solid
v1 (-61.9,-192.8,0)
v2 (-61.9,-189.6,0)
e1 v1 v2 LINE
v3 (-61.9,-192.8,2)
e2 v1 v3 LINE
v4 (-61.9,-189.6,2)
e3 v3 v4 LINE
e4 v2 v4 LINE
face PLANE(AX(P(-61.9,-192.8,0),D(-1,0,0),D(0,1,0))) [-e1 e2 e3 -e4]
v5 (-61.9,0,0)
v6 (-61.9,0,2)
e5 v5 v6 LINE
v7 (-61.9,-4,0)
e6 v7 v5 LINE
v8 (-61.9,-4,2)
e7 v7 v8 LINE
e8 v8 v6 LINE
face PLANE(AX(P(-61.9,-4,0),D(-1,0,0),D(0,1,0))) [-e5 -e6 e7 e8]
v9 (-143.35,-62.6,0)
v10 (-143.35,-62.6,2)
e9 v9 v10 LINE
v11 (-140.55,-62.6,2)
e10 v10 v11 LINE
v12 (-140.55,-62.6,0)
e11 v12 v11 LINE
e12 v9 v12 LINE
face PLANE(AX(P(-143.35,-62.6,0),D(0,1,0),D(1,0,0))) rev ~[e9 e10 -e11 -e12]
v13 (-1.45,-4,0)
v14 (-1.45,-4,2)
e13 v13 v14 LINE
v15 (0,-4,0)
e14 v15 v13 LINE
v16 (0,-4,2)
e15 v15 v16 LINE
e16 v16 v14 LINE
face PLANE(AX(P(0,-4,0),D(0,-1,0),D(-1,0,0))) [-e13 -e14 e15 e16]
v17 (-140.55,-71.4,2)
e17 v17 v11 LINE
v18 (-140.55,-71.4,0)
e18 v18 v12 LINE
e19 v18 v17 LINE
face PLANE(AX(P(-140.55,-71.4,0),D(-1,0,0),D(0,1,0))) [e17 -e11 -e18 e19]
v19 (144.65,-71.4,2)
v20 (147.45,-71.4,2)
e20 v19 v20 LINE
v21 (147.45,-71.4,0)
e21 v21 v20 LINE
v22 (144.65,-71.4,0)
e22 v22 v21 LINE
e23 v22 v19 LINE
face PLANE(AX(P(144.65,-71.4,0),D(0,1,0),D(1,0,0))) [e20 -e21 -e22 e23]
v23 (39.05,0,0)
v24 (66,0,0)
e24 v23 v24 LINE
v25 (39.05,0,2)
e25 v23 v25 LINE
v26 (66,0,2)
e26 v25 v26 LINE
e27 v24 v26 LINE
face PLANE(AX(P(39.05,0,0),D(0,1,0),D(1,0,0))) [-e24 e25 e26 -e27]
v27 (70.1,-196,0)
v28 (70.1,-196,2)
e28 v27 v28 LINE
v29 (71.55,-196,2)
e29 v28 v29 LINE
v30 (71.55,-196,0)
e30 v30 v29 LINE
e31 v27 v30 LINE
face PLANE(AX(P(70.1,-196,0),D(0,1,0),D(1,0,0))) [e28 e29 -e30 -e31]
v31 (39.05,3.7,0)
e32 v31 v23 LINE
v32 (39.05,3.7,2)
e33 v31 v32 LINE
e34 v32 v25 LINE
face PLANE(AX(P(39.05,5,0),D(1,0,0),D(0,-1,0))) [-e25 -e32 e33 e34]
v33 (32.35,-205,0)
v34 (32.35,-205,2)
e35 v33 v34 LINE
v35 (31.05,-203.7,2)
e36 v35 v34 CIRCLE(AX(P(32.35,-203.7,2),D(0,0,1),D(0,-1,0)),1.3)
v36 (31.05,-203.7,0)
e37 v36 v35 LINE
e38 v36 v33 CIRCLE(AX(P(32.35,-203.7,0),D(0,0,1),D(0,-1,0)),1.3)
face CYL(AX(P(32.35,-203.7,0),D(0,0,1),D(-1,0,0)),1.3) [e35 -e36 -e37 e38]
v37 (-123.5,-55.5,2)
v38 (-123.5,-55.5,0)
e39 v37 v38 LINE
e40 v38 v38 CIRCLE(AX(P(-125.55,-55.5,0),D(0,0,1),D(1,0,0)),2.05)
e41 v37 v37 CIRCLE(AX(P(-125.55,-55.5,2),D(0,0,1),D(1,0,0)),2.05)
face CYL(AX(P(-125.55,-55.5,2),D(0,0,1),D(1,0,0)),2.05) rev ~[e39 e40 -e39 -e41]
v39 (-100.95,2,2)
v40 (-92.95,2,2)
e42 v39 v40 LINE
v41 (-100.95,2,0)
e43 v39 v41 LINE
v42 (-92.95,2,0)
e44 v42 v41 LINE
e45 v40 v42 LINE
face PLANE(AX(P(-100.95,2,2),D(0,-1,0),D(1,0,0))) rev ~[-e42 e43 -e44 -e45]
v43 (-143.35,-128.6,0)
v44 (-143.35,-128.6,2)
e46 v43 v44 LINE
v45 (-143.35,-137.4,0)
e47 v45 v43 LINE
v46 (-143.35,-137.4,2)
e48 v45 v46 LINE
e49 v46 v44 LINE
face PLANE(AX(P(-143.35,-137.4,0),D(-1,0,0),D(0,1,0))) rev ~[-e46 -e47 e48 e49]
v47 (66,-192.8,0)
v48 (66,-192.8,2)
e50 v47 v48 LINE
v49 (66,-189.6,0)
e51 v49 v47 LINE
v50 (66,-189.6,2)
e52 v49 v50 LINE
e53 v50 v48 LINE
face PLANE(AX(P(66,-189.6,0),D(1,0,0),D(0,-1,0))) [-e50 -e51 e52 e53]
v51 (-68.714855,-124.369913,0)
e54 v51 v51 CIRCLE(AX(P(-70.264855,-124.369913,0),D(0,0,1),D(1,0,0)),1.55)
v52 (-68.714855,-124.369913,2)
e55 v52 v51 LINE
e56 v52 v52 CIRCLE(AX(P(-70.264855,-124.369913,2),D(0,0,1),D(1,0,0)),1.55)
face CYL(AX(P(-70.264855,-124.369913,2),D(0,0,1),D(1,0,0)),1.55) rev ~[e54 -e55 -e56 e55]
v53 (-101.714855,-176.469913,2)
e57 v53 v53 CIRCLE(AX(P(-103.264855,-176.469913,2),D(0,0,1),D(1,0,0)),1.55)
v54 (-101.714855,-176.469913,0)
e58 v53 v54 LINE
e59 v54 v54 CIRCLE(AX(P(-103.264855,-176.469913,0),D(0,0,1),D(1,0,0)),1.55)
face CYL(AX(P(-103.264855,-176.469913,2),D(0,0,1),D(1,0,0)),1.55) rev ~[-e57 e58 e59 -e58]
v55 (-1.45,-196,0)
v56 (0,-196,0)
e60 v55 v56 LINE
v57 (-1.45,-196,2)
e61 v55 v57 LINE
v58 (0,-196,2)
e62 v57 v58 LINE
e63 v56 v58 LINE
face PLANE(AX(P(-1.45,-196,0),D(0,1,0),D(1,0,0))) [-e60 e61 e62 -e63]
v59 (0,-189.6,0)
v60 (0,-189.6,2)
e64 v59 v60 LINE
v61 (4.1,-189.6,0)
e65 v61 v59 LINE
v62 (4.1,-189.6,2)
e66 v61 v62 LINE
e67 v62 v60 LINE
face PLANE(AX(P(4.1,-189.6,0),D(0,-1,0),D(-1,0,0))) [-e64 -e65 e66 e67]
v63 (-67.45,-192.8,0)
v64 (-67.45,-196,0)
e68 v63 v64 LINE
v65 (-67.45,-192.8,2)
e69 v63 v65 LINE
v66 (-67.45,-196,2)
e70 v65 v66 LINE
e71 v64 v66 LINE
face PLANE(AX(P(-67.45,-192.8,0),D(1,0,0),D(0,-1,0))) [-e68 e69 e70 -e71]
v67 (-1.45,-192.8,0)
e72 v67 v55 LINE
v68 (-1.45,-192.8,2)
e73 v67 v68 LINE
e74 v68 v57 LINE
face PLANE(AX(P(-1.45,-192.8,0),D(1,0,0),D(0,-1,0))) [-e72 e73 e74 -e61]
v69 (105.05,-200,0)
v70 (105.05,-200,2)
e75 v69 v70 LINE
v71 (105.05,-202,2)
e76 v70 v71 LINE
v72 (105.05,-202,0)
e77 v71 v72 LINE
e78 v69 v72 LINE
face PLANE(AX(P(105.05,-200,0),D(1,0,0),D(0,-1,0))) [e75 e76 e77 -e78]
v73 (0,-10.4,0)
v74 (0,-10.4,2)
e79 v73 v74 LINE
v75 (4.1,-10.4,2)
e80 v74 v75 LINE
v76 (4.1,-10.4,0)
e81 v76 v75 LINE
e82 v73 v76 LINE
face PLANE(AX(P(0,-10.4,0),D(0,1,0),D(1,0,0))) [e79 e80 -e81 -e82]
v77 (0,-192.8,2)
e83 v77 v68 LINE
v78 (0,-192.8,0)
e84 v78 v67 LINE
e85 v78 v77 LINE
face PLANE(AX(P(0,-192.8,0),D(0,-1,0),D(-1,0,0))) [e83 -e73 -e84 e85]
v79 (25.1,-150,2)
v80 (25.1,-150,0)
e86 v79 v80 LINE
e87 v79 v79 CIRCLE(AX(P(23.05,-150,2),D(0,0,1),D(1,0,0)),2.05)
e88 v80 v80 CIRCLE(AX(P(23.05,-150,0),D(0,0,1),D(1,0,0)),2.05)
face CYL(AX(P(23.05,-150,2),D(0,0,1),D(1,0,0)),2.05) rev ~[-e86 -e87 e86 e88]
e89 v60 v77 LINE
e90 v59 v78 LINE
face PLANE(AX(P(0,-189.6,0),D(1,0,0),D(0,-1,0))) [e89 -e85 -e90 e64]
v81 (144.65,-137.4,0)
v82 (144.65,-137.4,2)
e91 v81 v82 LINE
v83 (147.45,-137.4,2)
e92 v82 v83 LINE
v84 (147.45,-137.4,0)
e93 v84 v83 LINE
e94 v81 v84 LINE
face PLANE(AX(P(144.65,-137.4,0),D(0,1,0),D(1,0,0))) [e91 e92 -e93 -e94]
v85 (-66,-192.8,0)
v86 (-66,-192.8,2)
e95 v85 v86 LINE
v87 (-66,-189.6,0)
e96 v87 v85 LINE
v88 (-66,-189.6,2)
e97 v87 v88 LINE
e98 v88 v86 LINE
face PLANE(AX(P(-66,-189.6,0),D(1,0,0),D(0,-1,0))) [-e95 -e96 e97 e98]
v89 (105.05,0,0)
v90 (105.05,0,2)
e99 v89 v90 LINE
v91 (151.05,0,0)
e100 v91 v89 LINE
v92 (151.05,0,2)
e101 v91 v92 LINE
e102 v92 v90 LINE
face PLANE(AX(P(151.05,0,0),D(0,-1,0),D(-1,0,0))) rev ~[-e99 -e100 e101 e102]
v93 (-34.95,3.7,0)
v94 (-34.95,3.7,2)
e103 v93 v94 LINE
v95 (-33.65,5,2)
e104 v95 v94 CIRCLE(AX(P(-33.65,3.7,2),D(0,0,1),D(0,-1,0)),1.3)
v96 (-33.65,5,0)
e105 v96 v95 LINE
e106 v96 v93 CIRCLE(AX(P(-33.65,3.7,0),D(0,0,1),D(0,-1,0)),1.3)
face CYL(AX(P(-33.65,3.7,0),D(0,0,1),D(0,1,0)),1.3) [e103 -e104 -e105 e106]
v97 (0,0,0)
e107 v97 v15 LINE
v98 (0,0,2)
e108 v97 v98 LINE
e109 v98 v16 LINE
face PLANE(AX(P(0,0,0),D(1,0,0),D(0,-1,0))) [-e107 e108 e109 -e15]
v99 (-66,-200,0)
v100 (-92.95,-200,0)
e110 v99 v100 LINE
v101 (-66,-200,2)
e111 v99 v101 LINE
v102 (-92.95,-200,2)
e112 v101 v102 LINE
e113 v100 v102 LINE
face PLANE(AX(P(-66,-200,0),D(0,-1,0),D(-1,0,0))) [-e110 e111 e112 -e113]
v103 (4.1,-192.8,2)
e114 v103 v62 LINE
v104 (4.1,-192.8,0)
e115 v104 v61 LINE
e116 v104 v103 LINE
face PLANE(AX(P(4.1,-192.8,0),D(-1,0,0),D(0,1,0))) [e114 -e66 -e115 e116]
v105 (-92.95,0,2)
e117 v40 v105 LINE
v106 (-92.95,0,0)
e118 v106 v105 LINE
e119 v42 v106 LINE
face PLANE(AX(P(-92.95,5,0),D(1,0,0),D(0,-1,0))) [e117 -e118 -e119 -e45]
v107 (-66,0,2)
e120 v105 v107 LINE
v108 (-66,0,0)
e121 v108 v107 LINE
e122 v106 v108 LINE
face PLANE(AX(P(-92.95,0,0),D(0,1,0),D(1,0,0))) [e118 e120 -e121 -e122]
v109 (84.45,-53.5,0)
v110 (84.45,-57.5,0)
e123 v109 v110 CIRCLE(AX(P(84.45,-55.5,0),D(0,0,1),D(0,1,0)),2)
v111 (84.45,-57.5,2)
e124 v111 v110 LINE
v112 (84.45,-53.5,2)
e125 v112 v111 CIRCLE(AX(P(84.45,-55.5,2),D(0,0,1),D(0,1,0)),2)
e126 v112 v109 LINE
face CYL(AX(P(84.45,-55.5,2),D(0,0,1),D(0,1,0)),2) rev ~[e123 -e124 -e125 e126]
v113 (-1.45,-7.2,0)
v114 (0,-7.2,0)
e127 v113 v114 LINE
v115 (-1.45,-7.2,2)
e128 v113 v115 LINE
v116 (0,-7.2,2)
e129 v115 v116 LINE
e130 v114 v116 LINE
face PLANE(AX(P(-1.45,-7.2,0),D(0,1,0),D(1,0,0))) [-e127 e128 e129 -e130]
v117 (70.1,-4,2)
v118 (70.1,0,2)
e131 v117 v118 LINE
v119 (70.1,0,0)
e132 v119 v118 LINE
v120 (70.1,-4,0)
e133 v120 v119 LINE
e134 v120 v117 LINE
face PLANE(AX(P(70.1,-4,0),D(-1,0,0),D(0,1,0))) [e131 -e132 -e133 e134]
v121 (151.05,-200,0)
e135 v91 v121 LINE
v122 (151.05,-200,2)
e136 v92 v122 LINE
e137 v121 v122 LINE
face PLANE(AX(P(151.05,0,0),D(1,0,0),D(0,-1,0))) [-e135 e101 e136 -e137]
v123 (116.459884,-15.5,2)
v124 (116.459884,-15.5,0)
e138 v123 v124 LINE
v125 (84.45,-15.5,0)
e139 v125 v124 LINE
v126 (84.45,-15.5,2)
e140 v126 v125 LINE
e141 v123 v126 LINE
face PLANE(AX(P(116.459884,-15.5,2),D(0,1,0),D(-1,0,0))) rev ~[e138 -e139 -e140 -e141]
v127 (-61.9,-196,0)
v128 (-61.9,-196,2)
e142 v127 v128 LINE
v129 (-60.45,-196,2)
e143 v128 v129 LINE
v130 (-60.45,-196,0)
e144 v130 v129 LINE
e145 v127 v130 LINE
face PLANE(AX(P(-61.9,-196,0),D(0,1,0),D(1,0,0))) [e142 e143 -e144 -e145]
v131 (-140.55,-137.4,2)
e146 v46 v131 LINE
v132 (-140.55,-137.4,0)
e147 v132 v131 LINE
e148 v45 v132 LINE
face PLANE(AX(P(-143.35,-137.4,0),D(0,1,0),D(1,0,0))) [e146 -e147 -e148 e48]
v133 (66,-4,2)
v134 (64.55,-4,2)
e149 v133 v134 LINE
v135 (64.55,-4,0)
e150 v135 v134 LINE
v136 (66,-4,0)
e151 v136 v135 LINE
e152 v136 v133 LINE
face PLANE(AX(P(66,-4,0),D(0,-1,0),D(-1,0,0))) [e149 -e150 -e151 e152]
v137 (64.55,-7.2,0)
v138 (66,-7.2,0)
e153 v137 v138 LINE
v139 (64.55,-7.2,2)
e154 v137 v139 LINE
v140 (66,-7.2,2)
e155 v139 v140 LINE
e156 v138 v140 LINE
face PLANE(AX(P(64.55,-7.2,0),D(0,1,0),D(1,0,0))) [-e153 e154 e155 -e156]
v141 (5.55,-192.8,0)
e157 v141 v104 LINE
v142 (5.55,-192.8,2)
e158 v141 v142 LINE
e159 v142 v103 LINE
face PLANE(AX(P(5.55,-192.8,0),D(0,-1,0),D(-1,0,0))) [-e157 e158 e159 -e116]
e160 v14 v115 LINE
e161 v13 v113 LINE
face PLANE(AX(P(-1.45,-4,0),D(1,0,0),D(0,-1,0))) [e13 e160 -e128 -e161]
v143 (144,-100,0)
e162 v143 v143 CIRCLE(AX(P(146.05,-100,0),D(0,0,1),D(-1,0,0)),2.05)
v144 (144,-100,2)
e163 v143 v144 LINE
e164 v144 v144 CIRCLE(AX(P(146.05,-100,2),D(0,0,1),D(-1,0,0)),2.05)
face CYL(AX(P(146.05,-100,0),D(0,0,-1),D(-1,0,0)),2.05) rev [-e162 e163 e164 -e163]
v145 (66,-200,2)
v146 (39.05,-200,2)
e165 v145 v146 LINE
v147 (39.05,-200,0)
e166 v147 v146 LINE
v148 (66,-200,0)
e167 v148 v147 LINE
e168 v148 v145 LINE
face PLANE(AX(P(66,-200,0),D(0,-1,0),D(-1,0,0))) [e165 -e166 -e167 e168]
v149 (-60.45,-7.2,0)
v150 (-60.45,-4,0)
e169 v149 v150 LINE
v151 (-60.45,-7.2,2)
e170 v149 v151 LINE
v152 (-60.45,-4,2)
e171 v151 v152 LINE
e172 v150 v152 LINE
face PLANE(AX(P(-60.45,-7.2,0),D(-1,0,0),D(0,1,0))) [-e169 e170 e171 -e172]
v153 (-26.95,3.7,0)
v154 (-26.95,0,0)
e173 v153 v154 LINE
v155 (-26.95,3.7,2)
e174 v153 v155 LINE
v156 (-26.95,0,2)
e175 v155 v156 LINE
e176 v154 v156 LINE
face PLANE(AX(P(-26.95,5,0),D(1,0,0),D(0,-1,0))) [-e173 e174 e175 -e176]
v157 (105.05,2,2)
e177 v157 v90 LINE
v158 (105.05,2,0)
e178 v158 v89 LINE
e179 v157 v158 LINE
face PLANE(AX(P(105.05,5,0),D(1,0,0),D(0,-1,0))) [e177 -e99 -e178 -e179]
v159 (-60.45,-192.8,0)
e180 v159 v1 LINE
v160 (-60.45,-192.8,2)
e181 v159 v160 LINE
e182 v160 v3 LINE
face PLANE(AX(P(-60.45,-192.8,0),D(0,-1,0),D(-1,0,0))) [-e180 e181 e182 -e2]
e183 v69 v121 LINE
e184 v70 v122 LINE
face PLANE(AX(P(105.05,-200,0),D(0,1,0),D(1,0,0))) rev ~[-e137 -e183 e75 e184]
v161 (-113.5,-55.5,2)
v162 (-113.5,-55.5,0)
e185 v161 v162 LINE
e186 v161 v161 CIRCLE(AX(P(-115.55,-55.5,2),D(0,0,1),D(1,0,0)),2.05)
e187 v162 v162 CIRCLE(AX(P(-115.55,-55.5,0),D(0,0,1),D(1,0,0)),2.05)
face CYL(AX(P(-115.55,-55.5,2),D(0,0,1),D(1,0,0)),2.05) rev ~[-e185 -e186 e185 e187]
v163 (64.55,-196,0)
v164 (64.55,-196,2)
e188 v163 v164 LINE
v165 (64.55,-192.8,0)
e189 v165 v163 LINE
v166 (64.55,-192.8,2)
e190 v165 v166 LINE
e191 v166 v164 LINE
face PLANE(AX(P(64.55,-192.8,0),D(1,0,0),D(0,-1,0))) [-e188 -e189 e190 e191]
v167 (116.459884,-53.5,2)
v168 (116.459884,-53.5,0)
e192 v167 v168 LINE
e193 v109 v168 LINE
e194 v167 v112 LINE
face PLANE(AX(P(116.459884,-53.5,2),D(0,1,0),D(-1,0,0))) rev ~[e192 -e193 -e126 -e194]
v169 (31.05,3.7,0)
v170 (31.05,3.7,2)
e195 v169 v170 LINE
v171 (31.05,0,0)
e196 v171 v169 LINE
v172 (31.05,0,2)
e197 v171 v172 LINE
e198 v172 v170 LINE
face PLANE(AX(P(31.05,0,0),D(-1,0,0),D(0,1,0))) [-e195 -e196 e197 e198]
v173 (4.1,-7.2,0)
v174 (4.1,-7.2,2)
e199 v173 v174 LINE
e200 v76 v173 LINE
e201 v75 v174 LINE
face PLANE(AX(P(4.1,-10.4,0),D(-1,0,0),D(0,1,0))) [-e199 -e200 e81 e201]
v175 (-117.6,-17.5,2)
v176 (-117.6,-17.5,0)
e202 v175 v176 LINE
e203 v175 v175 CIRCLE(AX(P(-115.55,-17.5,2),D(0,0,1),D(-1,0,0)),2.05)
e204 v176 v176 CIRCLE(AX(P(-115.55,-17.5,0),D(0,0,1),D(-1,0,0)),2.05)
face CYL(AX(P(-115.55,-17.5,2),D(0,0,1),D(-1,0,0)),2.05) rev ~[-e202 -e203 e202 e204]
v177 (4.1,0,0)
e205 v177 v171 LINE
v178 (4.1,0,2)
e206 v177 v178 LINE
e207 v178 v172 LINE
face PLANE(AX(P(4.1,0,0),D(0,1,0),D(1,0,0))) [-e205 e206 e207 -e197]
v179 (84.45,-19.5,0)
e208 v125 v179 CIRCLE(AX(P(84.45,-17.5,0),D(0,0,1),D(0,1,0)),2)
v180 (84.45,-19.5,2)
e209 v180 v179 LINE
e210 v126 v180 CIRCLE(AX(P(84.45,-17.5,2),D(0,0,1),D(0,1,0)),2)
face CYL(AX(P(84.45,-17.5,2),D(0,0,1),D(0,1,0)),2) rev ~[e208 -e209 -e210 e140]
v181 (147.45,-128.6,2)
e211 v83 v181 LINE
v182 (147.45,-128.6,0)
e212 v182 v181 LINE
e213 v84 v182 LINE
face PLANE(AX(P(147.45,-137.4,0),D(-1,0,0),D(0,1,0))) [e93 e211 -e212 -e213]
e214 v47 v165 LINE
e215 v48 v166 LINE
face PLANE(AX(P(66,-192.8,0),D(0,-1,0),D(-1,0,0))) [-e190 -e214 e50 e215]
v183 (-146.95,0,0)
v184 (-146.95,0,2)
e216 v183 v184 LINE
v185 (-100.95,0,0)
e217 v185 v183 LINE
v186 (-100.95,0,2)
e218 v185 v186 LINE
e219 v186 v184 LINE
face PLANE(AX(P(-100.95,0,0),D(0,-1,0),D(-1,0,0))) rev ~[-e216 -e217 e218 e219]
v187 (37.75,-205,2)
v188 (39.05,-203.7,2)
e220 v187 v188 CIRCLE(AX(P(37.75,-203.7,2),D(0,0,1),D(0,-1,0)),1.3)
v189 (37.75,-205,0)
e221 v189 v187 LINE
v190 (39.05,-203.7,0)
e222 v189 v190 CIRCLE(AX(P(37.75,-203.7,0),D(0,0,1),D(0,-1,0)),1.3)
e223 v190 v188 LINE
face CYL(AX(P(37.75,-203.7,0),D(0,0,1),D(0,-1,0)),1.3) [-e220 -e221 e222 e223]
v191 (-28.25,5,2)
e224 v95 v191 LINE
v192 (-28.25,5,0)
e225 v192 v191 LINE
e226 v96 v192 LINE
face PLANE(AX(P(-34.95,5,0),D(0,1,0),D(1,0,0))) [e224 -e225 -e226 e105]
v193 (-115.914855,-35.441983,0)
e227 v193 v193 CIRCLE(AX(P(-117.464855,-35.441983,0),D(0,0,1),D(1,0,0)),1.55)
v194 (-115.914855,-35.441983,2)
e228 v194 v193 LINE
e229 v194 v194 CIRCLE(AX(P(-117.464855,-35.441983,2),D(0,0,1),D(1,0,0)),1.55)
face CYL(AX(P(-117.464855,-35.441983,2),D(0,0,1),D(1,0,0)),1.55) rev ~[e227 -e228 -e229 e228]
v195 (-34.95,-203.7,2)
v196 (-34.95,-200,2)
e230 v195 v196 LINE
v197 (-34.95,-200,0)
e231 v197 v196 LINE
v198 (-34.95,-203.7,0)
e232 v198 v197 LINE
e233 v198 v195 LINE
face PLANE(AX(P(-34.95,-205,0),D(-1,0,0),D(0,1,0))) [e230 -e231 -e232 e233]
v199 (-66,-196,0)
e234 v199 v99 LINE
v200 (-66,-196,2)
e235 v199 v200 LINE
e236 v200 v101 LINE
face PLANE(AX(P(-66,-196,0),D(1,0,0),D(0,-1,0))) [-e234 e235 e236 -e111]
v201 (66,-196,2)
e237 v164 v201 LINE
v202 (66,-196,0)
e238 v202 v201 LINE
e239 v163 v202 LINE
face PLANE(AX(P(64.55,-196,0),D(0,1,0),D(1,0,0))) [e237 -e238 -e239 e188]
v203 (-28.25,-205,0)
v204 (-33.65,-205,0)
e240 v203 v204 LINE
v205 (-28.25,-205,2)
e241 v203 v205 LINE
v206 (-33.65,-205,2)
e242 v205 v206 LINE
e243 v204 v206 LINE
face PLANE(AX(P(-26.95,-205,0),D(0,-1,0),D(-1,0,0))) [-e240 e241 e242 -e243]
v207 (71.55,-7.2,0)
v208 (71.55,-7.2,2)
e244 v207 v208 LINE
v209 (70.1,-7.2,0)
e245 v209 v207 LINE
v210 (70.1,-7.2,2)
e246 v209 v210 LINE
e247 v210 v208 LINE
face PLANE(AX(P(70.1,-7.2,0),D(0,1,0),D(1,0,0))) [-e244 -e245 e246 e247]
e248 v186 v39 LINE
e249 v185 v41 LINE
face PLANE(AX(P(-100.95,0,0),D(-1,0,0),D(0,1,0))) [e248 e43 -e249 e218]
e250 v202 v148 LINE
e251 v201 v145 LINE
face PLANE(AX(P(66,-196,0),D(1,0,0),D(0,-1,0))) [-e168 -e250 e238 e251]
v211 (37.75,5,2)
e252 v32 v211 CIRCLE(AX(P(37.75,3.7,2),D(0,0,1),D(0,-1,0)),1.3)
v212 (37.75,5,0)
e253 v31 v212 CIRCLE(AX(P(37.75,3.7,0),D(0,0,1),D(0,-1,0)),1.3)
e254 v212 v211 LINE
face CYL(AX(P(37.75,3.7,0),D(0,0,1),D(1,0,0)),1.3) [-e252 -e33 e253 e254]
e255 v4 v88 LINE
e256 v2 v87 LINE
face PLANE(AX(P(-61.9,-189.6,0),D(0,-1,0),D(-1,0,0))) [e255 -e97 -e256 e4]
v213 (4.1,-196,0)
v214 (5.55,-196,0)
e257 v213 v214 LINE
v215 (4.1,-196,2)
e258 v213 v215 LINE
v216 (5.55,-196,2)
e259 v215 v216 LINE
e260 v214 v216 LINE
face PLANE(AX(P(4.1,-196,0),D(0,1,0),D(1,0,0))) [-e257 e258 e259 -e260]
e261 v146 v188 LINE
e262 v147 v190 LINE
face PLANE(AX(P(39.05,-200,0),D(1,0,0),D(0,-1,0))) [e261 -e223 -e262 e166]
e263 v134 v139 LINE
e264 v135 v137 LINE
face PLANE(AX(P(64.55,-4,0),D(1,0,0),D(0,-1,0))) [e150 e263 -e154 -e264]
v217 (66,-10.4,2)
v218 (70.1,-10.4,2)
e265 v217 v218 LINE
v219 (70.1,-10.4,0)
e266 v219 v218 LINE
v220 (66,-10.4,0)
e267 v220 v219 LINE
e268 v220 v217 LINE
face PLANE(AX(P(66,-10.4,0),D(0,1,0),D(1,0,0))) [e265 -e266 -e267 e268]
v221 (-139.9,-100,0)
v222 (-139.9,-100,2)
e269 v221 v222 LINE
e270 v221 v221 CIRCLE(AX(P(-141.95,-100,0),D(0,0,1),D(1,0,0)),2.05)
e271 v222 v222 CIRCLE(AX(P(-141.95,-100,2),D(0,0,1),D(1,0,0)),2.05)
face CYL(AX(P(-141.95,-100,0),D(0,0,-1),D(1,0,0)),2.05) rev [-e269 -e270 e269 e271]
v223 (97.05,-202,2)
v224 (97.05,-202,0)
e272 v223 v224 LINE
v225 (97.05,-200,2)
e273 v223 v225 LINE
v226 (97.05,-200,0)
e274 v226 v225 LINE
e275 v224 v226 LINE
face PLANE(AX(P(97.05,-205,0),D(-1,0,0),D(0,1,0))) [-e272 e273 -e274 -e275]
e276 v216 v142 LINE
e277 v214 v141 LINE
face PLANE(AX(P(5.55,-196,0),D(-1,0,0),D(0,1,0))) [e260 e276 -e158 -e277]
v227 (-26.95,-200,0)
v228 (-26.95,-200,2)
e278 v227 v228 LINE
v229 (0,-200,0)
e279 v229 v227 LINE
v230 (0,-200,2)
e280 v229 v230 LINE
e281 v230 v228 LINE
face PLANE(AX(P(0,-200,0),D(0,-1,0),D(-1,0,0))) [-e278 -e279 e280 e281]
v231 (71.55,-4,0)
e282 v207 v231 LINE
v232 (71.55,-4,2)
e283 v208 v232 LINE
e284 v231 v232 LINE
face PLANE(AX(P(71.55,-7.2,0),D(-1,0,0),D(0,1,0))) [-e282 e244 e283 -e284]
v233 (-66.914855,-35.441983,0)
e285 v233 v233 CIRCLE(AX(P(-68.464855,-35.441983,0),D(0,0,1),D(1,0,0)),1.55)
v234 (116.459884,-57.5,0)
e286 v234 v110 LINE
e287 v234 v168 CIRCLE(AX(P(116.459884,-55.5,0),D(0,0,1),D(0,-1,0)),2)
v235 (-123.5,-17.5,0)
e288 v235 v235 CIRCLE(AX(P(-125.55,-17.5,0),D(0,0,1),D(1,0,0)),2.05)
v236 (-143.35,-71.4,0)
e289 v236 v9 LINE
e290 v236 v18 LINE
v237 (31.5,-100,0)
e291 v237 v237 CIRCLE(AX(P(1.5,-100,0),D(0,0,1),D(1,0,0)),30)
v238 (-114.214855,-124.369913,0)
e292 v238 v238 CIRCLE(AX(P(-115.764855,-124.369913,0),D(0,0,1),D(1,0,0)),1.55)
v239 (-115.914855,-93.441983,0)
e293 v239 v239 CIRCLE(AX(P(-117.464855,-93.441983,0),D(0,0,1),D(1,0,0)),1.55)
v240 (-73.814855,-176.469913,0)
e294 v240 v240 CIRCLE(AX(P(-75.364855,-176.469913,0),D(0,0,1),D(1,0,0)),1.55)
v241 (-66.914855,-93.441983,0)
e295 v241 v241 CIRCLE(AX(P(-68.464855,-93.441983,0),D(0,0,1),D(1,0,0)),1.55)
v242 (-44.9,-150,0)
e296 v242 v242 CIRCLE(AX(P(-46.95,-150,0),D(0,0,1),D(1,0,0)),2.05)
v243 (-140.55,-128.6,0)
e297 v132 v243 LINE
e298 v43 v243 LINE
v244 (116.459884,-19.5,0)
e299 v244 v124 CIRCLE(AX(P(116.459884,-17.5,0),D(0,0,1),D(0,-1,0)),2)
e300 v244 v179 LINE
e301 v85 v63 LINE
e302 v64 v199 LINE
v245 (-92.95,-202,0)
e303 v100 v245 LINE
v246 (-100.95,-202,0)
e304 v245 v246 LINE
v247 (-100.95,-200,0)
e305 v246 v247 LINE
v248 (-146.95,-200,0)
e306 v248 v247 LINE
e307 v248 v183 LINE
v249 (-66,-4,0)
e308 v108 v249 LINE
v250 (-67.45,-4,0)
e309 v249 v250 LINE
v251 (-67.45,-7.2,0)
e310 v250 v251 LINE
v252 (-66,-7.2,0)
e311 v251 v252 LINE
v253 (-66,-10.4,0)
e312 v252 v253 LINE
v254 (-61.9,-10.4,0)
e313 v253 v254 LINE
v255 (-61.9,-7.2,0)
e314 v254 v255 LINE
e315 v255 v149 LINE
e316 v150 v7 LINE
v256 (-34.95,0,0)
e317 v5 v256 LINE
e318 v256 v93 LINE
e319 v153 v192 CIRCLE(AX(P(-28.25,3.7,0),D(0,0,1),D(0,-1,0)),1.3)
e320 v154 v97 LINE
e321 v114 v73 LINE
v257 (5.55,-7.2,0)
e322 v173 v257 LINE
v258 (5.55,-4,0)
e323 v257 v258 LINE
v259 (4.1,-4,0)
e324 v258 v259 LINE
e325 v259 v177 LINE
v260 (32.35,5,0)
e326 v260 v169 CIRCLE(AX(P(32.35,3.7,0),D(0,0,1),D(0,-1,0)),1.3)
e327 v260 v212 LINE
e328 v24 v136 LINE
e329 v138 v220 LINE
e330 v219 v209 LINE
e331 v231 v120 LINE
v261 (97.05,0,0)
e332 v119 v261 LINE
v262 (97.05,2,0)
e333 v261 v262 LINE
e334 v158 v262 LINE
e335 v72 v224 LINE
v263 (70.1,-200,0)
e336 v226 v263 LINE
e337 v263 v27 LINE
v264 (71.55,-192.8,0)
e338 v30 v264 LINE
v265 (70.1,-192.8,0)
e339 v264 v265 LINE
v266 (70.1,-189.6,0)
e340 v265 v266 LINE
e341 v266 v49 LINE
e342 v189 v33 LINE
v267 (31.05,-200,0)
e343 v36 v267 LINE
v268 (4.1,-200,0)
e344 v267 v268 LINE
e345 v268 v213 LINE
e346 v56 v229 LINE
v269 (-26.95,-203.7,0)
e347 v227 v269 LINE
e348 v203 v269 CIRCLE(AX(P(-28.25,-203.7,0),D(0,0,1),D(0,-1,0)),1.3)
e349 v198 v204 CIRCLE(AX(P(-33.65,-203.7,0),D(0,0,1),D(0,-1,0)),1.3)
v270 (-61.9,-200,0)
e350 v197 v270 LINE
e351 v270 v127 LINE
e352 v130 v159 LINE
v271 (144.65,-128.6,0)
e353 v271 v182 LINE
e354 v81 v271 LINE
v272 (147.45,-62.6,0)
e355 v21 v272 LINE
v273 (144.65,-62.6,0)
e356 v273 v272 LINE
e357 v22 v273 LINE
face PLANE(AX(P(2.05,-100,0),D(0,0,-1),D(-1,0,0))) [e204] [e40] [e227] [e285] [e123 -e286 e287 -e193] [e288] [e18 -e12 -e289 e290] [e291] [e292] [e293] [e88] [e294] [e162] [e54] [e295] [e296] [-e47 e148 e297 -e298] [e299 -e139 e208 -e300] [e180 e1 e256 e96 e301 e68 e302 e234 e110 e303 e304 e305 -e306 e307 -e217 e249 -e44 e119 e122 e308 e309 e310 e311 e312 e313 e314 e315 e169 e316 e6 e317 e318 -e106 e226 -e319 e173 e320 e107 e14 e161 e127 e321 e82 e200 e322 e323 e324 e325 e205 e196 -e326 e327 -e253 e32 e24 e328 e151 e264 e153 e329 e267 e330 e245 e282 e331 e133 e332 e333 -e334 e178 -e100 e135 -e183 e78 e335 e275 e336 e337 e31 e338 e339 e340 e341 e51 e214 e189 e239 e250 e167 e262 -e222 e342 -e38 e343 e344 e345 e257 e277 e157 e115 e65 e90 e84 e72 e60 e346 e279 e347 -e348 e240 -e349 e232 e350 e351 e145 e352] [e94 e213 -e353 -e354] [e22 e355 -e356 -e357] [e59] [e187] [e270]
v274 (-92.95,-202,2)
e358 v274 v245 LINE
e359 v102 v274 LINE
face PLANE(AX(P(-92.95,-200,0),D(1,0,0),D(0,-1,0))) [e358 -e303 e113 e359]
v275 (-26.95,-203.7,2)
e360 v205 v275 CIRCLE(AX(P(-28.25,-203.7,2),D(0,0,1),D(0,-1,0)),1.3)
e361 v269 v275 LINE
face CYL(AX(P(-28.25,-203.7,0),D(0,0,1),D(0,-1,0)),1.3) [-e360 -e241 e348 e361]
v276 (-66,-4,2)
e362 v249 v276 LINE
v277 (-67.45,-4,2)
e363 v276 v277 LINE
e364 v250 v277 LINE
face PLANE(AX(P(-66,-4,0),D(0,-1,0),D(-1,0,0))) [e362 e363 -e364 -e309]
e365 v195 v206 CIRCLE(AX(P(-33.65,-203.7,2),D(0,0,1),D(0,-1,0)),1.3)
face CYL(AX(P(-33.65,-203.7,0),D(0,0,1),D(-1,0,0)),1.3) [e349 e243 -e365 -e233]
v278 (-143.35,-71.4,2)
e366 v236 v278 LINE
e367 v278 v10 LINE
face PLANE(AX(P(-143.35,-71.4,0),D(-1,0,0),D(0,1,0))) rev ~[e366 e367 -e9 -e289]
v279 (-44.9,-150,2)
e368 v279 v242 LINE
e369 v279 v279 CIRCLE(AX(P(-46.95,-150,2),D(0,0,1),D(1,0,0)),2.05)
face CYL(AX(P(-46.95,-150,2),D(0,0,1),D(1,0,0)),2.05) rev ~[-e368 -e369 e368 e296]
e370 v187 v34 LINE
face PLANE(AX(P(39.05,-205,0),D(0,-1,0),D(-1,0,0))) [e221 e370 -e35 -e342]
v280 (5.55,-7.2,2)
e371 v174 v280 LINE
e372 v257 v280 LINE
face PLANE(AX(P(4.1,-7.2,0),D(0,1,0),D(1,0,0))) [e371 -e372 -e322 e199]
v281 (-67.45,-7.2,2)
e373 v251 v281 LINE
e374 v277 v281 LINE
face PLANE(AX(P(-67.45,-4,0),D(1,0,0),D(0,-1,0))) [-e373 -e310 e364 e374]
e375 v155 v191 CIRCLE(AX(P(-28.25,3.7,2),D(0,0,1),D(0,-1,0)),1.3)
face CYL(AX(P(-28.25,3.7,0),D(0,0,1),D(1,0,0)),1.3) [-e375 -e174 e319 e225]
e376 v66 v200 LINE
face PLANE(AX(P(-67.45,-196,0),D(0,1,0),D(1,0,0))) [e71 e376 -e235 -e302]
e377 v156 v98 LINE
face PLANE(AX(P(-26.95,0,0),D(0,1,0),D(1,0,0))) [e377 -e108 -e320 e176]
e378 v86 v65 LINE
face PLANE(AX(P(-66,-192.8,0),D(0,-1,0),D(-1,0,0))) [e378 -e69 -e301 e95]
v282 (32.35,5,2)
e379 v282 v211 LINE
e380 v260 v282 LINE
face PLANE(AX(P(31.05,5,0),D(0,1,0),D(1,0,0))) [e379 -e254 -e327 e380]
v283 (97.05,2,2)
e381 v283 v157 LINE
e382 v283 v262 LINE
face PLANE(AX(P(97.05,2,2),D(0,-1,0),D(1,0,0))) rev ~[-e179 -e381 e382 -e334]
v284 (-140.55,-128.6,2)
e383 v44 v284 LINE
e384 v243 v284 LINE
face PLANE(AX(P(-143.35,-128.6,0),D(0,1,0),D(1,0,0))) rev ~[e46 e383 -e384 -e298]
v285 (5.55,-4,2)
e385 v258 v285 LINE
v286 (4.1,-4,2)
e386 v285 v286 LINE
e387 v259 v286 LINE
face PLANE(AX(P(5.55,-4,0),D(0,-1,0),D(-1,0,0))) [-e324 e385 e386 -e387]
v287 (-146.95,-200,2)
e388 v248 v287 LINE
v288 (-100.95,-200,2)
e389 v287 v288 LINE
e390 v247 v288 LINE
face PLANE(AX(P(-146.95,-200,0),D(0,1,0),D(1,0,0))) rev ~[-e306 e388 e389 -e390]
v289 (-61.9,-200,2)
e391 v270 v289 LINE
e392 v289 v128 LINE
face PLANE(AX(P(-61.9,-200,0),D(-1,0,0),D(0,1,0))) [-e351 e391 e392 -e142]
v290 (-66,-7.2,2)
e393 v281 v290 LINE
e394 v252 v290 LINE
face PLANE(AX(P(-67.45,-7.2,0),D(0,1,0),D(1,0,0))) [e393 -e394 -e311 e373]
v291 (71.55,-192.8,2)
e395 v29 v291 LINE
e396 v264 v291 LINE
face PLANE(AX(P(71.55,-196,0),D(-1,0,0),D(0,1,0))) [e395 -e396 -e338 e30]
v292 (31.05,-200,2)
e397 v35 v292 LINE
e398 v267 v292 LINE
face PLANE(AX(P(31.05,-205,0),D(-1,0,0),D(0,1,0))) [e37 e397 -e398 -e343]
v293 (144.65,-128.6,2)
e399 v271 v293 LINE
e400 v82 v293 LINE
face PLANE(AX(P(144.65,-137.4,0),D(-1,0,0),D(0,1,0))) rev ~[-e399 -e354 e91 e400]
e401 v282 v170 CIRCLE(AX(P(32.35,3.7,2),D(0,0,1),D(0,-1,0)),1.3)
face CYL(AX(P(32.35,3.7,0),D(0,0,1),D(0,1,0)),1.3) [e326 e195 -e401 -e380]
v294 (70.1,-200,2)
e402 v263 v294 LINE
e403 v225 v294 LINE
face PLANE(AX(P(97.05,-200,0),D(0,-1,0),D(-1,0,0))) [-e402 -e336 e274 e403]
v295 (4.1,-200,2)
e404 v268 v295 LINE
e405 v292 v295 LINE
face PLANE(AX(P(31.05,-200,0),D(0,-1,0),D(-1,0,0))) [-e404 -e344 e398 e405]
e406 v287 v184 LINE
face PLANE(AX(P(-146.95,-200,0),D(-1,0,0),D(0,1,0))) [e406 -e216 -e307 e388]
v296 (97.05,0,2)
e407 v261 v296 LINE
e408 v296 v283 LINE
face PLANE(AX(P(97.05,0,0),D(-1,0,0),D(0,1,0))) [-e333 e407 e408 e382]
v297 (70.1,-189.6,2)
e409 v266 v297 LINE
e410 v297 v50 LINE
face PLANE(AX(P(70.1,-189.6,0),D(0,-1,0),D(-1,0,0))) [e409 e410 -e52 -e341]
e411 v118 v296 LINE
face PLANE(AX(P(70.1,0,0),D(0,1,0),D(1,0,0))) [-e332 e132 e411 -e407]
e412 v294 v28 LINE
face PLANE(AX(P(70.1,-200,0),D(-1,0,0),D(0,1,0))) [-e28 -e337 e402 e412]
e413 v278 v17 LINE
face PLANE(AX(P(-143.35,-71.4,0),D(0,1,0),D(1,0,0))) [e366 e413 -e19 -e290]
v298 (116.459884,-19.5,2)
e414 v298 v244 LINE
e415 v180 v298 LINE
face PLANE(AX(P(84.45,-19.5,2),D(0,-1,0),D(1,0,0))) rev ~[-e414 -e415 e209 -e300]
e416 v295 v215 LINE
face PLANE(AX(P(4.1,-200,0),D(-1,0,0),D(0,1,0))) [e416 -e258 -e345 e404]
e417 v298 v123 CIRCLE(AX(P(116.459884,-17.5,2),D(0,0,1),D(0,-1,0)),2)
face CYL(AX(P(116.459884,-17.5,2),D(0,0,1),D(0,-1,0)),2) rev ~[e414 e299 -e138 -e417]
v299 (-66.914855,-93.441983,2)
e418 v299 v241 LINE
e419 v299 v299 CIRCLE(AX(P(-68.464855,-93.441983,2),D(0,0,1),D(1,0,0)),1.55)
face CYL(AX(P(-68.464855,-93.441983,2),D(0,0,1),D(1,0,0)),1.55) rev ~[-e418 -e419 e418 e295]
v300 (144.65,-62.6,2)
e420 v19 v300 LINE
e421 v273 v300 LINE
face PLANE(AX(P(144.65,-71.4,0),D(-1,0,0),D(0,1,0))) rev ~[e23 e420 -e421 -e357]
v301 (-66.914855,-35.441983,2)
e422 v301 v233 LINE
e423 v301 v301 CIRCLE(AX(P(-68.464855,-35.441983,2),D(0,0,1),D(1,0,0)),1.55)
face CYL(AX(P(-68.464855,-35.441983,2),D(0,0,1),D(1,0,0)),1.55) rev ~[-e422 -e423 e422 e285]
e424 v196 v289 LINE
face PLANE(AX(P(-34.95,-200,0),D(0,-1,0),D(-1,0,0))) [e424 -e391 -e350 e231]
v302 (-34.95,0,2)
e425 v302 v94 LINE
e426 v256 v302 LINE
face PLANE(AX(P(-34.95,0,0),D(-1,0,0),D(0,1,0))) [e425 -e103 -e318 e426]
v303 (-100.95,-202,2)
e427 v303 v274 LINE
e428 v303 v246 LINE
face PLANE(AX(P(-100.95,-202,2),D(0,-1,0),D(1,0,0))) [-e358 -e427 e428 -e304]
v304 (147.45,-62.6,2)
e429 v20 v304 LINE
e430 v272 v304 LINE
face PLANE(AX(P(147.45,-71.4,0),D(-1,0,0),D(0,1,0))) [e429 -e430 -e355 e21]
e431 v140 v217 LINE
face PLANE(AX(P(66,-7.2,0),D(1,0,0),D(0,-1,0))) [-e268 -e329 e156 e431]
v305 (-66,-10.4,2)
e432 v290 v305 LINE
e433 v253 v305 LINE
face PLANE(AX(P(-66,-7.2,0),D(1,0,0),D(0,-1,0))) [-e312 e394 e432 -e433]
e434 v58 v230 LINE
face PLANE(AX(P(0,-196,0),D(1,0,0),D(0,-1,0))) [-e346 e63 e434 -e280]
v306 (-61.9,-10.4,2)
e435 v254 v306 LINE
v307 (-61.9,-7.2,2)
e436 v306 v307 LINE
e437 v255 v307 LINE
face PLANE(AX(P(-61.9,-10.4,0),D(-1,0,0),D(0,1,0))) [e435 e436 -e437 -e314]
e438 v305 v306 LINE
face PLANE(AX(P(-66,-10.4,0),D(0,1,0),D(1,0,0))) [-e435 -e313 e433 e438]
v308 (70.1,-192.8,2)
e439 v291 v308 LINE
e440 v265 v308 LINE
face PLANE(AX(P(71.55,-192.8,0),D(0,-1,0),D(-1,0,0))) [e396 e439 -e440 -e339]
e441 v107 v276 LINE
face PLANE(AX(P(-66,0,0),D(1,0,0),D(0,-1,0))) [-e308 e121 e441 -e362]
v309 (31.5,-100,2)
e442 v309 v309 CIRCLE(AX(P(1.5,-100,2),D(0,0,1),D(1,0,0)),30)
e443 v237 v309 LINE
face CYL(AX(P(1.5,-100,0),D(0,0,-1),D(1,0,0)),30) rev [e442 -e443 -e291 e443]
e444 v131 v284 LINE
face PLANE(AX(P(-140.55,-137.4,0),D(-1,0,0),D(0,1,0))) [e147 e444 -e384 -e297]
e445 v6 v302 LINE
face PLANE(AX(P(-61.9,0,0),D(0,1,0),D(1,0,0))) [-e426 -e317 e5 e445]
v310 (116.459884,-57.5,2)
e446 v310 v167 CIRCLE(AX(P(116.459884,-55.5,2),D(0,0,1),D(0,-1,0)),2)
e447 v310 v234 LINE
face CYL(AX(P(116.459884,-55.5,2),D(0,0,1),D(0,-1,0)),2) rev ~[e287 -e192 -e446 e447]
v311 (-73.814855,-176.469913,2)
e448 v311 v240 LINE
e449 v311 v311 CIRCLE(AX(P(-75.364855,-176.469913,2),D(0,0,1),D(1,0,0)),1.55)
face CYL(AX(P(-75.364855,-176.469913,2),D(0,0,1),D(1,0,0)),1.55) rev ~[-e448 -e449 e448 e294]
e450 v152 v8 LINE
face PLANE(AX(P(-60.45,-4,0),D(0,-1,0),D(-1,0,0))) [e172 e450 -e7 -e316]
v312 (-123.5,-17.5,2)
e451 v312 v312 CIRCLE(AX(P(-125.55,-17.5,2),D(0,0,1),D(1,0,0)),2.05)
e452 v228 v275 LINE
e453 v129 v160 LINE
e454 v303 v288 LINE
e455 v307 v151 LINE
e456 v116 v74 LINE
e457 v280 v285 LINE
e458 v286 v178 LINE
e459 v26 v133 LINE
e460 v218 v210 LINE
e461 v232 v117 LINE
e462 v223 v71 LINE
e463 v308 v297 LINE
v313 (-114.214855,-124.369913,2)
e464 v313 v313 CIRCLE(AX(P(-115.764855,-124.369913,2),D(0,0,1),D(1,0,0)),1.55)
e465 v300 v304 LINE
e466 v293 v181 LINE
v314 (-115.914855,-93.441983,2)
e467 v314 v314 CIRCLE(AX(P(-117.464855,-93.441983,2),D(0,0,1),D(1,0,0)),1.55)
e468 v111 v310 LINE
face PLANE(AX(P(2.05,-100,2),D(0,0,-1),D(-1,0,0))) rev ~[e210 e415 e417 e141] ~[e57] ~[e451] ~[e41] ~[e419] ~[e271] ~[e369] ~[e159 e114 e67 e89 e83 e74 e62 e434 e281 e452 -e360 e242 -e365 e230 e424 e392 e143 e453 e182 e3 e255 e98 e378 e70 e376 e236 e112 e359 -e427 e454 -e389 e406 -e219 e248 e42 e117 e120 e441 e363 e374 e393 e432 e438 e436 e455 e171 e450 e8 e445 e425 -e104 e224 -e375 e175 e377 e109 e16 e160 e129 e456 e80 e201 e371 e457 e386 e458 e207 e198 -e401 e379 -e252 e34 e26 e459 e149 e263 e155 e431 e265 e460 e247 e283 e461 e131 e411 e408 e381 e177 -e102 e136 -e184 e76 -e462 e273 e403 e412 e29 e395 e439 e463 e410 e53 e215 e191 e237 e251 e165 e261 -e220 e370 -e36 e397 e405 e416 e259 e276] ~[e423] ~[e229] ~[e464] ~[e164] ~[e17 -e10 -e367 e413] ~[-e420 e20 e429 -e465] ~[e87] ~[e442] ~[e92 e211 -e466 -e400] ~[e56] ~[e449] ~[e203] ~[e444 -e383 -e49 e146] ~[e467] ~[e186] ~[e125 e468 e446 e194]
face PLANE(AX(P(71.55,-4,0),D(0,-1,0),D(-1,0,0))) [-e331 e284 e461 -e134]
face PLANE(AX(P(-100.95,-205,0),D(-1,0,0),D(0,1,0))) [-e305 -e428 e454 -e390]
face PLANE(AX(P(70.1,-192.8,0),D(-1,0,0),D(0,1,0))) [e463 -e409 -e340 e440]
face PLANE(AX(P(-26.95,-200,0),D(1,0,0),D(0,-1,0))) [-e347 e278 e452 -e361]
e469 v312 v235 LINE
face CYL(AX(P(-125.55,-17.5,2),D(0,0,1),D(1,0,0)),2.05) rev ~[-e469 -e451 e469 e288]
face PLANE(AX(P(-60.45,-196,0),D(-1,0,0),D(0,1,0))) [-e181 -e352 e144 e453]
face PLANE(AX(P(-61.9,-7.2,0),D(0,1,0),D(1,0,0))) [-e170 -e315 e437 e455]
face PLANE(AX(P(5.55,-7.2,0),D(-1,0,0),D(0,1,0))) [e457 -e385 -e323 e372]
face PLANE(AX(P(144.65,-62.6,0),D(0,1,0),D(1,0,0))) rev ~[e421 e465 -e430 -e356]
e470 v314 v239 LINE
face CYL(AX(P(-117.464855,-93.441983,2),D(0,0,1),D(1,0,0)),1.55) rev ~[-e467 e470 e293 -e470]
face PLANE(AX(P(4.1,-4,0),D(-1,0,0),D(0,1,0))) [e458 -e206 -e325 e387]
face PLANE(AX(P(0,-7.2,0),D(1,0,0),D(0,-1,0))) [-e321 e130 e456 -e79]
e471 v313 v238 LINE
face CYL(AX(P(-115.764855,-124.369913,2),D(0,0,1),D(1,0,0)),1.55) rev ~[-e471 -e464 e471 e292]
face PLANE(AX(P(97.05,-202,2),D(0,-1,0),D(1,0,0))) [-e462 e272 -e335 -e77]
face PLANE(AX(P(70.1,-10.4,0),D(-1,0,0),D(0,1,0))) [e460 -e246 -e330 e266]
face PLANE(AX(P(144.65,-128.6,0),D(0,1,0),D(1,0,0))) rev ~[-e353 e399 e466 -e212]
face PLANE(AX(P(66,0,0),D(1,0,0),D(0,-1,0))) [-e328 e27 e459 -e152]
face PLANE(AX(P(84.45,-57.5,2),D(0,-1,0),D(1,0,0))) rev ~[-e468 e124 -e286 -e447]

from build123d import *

# Parameters (mm, degrees)
SKETCH_1_R          = 2.05
SKETCH_1_R_2        = 30
SKETCH_1_W          = 2.8
SKETCH_1_H          = 8.8
EXTRUDE_1_DEPTH     = 2
SKETCH_4_W          = 8
SKETCH_4_H          = 3
SKETCH_4_R          = 1.55
SKETCH_4_R_2        = 2.05
CUT_EXTRUDE_1_DEPTH = 10
FILLET_1_R          = 1.3


with BuildPart() as part:
    # 草图1 → 凸台-拉伸1 (new body)
    with BuildSketch(Plane.XY):
        Polygon((0, 0), (0, -4), (-1.45, -4), (-1.45, -7.2), (0, -7.2), (0, -10.4), (4.1, -10.4), (4.1, -7.2), (5.55, -7.2), (5.55, -4), (4.1, -4), (4.1, 0), (31.05, 0), (31.05, 5), (39.05, 5), (39.05, 0), (66, 0), (66, -4), (64.55, -4), (64.55, -7.2), (66, -7.2), (66, -10.4), (70.1, -10.4), (70.1, -7.2), (71.55, -7.2), (71.55, -4), (70.1, -4), (70.1, 0), (97.05, 0), (97.05, 5), (105.05, 5), (105.05, 0), (132, 0), (144.05, 0), (146.05, 0), (151.05, 0), (151.05, -200), (146.05, -200), (144.05, -200), (132, -200), (105.05, -200), (105.05, -205), (97.05, -205), (97.05, -200), (70.1, -200), (70.1, -196), (71.55, -196), (71.55, -192.8), (70.1, -192.8), (70.1, -189.6), (66, -189.6), (66, -192.8), (64.55, -192.8), (64.55, -196), (66, -196), (66, -200), (39.05, -200), (39.05, -205), (31.05, -205), (31.05, -200), (4.1, -200), (4.1, -196), (5.55, -196), (5.55, -192.8), (4.1, -192.8), (4.1, -189.6), (0, -189.6), (0, -192.8), (-1.45, -192.8), (-1.45, -196), (0, -196), (0, -200), (-26.95, -200), (-26.95, -205), (-34.95, -205), (-34.95, -200), (-61.9, -200), (-61.9, -196), (-60.45, -196), (-60.45, -192.8), (-61.9, -192.8), (-61.9, -189.6), (-66, -189.6), (-66, -192.8), (-67.45, -192.8), (-67.45, -196), (-66, -196), (-66, -200), (-92.95, -200), (-92.95, -205), (-100.95, -205), (-100.95, -200), (-127.9, -200), (-139.95, -200), (-141.95, -200), (-146.95, -200), (-146.95, 0), (-141.95, 0), (-139.95, 0), (-127.9, 0), (-100.95, 0), (-100.95, 5), (-92.95, 5), (-92.95, 0), (-66, 0), (-66, -4), (-67.45, -4), (-67.45, -7.2), (-66, -7.2), (-66, -10.4), (-61.9, -10.4), (-61.9, -7.2), (-60.45, -7.2), (-60.45, -4), (-61.9, -4), (-61.9, 0), (-34.95, 0), (-34.95, 5), (-26.95, 5), (-26.95, 0), align=None)
        with Locations((-141.95, -100)):
            Circle(SKETCH_1_R, mode=Mode.SUBTRACT)
        with Locations(Location((146.05, -100, 0), (0, 0, 180))):
            Circle(SKETCH_1_R, mode=Mode.SUBTRACT)
        with Locations((1.5, -100)):
            Circle(SKETCH_1_R_2, mode=Mode.SUBTRACT)
        with Locations((-141.95, -67)):
            Rectangle(SKETCH_1_W, SKETCH_1_H, mode=Mode.SUBTRACT)
        with Locations((-141.95, -133)):
            Rectangle(SKETCH_1_W, SKETCH_1_H, mode=Mode.SUBTRACT)
        with Locations((146.05, -133)):
            Rectangle(SKETCH_1_W, SKETCH_1_H, mode=Mode.SUBTRACT)
        with Locations((146.05, -67)):
            Rectangle(SKETCH_1_W, SKETCH_1_H, mode=Mode.SUBTRACT)
    extrude(amount=EXTRUDE_1_DEPTH)

    # 草图4 → 切除-拉伸1 (cut)
    with BuildSketch(Plane.XY.offset(2)):
        with BuildLine():
            Line((116.459883662, -15.5), (84.45, -15.5))
            ThreePointArc((84.45, -15.5), (82.45, -17.5), (84.45, -19.5))
            Line((84.45, -19.5), (116.459883662, -19.5))
            ThreePointArc((116.459883662, -19.5), (118.459883662, -17.5), (116.459883662, -15.5))
        make_face()
        with BuildLine():
            ThreePointArc((84.45, -53.5), (82.45, -55.5), (84.45, -57.5))
            Line((84.45, -57.5), (116.459883662, -57.5))
            ThreePointArc((116.459883662, -57.5), (118.459883662, -55.5), (116.459883662, -53.5))
            Line((116.459883662, -53.5), (84.45, -53.5))
        make_face()
        with Locations((-96.95, 3.5)):
            Rectangle(SKETCH_4_W, SKETCH_4_H)
        with Locations((-96.95, -203.5)):
            Rectangle(SKETCH_4_W, SKETCH_4_H)
        with Locations((101.05, 3.5)):
            Rectangle(SKETCH_4_W, SKETCH_4_H)
        with Locations((101.05, -203.5)):
            Rectangle(SKETCH_4_W, SKETCH_4_H)
        with Locations((-75.364854909, -176.46991287)):
            Circle(SKETCH_4_R)
        with Locations((-103.264854909, -176.46991287)):
            Circle(SKETCH_4_R)
        with Locations((-70.264854909, -124.36991287)):
            Circle(SKETCH_4_R)
        with Locations((-115.764854909, -124.36991287)):
            Circle(SKETCH_4_R)
        with Locations((-117.464854909, -35.441983185)):
            Circle(SKETCH_4_R)
        with Locations((-68.464854909, -35.441983185)):
            Circle(SKETCH_4_R)
        with Locations((-117.464854909, -93.441983185)):
            Circle(SKETCH_4_R)
        with Locations((-68.464854909, -93.441983185)):
            Circle(SKETCH_4_R)
        with Locations((-125.55, -17.5)):
            Circle(SKETCH_4_R_2)
        with Locations((-125.55, -55.5)):
            Circle(SKETCH_4_R_2)
        with Locations((-115.55, -55.5)):
            Circle(SKETCH_4_R_2)
        with Locations(Location((-115.55, -17.5, 0), (0, 0, 180))):
            Circle(SKETCH_4_R_2)
        with Locations((-46.95, -150)):
            Circle(SKETCH_4_R_2)
        with Locations((23.05, -150)):
            Circle(SKETCH_4_R_2)
    extrude(amount=-CUT_EXTRUDE_1_DEPTH, mode=Mode.SUBTRACT)

    # 圆角1
    fillet_1_edges = [part.edges().sort_by_distance(p)[0] for p in [
        (31.05, 5, 1),
        (39.05, 5, 1),
        (39.05, -205, 1),
        (31.05, -205, 1),
        (-26.95, -205, 1),
        (-34.95, -205, 1),
        (-34.95, 5, 1),
        (-26.95, 5, 1),
    ]]
    fillet(fillet_1_edges, radius=FILLET_1_R)


solid = part.part
